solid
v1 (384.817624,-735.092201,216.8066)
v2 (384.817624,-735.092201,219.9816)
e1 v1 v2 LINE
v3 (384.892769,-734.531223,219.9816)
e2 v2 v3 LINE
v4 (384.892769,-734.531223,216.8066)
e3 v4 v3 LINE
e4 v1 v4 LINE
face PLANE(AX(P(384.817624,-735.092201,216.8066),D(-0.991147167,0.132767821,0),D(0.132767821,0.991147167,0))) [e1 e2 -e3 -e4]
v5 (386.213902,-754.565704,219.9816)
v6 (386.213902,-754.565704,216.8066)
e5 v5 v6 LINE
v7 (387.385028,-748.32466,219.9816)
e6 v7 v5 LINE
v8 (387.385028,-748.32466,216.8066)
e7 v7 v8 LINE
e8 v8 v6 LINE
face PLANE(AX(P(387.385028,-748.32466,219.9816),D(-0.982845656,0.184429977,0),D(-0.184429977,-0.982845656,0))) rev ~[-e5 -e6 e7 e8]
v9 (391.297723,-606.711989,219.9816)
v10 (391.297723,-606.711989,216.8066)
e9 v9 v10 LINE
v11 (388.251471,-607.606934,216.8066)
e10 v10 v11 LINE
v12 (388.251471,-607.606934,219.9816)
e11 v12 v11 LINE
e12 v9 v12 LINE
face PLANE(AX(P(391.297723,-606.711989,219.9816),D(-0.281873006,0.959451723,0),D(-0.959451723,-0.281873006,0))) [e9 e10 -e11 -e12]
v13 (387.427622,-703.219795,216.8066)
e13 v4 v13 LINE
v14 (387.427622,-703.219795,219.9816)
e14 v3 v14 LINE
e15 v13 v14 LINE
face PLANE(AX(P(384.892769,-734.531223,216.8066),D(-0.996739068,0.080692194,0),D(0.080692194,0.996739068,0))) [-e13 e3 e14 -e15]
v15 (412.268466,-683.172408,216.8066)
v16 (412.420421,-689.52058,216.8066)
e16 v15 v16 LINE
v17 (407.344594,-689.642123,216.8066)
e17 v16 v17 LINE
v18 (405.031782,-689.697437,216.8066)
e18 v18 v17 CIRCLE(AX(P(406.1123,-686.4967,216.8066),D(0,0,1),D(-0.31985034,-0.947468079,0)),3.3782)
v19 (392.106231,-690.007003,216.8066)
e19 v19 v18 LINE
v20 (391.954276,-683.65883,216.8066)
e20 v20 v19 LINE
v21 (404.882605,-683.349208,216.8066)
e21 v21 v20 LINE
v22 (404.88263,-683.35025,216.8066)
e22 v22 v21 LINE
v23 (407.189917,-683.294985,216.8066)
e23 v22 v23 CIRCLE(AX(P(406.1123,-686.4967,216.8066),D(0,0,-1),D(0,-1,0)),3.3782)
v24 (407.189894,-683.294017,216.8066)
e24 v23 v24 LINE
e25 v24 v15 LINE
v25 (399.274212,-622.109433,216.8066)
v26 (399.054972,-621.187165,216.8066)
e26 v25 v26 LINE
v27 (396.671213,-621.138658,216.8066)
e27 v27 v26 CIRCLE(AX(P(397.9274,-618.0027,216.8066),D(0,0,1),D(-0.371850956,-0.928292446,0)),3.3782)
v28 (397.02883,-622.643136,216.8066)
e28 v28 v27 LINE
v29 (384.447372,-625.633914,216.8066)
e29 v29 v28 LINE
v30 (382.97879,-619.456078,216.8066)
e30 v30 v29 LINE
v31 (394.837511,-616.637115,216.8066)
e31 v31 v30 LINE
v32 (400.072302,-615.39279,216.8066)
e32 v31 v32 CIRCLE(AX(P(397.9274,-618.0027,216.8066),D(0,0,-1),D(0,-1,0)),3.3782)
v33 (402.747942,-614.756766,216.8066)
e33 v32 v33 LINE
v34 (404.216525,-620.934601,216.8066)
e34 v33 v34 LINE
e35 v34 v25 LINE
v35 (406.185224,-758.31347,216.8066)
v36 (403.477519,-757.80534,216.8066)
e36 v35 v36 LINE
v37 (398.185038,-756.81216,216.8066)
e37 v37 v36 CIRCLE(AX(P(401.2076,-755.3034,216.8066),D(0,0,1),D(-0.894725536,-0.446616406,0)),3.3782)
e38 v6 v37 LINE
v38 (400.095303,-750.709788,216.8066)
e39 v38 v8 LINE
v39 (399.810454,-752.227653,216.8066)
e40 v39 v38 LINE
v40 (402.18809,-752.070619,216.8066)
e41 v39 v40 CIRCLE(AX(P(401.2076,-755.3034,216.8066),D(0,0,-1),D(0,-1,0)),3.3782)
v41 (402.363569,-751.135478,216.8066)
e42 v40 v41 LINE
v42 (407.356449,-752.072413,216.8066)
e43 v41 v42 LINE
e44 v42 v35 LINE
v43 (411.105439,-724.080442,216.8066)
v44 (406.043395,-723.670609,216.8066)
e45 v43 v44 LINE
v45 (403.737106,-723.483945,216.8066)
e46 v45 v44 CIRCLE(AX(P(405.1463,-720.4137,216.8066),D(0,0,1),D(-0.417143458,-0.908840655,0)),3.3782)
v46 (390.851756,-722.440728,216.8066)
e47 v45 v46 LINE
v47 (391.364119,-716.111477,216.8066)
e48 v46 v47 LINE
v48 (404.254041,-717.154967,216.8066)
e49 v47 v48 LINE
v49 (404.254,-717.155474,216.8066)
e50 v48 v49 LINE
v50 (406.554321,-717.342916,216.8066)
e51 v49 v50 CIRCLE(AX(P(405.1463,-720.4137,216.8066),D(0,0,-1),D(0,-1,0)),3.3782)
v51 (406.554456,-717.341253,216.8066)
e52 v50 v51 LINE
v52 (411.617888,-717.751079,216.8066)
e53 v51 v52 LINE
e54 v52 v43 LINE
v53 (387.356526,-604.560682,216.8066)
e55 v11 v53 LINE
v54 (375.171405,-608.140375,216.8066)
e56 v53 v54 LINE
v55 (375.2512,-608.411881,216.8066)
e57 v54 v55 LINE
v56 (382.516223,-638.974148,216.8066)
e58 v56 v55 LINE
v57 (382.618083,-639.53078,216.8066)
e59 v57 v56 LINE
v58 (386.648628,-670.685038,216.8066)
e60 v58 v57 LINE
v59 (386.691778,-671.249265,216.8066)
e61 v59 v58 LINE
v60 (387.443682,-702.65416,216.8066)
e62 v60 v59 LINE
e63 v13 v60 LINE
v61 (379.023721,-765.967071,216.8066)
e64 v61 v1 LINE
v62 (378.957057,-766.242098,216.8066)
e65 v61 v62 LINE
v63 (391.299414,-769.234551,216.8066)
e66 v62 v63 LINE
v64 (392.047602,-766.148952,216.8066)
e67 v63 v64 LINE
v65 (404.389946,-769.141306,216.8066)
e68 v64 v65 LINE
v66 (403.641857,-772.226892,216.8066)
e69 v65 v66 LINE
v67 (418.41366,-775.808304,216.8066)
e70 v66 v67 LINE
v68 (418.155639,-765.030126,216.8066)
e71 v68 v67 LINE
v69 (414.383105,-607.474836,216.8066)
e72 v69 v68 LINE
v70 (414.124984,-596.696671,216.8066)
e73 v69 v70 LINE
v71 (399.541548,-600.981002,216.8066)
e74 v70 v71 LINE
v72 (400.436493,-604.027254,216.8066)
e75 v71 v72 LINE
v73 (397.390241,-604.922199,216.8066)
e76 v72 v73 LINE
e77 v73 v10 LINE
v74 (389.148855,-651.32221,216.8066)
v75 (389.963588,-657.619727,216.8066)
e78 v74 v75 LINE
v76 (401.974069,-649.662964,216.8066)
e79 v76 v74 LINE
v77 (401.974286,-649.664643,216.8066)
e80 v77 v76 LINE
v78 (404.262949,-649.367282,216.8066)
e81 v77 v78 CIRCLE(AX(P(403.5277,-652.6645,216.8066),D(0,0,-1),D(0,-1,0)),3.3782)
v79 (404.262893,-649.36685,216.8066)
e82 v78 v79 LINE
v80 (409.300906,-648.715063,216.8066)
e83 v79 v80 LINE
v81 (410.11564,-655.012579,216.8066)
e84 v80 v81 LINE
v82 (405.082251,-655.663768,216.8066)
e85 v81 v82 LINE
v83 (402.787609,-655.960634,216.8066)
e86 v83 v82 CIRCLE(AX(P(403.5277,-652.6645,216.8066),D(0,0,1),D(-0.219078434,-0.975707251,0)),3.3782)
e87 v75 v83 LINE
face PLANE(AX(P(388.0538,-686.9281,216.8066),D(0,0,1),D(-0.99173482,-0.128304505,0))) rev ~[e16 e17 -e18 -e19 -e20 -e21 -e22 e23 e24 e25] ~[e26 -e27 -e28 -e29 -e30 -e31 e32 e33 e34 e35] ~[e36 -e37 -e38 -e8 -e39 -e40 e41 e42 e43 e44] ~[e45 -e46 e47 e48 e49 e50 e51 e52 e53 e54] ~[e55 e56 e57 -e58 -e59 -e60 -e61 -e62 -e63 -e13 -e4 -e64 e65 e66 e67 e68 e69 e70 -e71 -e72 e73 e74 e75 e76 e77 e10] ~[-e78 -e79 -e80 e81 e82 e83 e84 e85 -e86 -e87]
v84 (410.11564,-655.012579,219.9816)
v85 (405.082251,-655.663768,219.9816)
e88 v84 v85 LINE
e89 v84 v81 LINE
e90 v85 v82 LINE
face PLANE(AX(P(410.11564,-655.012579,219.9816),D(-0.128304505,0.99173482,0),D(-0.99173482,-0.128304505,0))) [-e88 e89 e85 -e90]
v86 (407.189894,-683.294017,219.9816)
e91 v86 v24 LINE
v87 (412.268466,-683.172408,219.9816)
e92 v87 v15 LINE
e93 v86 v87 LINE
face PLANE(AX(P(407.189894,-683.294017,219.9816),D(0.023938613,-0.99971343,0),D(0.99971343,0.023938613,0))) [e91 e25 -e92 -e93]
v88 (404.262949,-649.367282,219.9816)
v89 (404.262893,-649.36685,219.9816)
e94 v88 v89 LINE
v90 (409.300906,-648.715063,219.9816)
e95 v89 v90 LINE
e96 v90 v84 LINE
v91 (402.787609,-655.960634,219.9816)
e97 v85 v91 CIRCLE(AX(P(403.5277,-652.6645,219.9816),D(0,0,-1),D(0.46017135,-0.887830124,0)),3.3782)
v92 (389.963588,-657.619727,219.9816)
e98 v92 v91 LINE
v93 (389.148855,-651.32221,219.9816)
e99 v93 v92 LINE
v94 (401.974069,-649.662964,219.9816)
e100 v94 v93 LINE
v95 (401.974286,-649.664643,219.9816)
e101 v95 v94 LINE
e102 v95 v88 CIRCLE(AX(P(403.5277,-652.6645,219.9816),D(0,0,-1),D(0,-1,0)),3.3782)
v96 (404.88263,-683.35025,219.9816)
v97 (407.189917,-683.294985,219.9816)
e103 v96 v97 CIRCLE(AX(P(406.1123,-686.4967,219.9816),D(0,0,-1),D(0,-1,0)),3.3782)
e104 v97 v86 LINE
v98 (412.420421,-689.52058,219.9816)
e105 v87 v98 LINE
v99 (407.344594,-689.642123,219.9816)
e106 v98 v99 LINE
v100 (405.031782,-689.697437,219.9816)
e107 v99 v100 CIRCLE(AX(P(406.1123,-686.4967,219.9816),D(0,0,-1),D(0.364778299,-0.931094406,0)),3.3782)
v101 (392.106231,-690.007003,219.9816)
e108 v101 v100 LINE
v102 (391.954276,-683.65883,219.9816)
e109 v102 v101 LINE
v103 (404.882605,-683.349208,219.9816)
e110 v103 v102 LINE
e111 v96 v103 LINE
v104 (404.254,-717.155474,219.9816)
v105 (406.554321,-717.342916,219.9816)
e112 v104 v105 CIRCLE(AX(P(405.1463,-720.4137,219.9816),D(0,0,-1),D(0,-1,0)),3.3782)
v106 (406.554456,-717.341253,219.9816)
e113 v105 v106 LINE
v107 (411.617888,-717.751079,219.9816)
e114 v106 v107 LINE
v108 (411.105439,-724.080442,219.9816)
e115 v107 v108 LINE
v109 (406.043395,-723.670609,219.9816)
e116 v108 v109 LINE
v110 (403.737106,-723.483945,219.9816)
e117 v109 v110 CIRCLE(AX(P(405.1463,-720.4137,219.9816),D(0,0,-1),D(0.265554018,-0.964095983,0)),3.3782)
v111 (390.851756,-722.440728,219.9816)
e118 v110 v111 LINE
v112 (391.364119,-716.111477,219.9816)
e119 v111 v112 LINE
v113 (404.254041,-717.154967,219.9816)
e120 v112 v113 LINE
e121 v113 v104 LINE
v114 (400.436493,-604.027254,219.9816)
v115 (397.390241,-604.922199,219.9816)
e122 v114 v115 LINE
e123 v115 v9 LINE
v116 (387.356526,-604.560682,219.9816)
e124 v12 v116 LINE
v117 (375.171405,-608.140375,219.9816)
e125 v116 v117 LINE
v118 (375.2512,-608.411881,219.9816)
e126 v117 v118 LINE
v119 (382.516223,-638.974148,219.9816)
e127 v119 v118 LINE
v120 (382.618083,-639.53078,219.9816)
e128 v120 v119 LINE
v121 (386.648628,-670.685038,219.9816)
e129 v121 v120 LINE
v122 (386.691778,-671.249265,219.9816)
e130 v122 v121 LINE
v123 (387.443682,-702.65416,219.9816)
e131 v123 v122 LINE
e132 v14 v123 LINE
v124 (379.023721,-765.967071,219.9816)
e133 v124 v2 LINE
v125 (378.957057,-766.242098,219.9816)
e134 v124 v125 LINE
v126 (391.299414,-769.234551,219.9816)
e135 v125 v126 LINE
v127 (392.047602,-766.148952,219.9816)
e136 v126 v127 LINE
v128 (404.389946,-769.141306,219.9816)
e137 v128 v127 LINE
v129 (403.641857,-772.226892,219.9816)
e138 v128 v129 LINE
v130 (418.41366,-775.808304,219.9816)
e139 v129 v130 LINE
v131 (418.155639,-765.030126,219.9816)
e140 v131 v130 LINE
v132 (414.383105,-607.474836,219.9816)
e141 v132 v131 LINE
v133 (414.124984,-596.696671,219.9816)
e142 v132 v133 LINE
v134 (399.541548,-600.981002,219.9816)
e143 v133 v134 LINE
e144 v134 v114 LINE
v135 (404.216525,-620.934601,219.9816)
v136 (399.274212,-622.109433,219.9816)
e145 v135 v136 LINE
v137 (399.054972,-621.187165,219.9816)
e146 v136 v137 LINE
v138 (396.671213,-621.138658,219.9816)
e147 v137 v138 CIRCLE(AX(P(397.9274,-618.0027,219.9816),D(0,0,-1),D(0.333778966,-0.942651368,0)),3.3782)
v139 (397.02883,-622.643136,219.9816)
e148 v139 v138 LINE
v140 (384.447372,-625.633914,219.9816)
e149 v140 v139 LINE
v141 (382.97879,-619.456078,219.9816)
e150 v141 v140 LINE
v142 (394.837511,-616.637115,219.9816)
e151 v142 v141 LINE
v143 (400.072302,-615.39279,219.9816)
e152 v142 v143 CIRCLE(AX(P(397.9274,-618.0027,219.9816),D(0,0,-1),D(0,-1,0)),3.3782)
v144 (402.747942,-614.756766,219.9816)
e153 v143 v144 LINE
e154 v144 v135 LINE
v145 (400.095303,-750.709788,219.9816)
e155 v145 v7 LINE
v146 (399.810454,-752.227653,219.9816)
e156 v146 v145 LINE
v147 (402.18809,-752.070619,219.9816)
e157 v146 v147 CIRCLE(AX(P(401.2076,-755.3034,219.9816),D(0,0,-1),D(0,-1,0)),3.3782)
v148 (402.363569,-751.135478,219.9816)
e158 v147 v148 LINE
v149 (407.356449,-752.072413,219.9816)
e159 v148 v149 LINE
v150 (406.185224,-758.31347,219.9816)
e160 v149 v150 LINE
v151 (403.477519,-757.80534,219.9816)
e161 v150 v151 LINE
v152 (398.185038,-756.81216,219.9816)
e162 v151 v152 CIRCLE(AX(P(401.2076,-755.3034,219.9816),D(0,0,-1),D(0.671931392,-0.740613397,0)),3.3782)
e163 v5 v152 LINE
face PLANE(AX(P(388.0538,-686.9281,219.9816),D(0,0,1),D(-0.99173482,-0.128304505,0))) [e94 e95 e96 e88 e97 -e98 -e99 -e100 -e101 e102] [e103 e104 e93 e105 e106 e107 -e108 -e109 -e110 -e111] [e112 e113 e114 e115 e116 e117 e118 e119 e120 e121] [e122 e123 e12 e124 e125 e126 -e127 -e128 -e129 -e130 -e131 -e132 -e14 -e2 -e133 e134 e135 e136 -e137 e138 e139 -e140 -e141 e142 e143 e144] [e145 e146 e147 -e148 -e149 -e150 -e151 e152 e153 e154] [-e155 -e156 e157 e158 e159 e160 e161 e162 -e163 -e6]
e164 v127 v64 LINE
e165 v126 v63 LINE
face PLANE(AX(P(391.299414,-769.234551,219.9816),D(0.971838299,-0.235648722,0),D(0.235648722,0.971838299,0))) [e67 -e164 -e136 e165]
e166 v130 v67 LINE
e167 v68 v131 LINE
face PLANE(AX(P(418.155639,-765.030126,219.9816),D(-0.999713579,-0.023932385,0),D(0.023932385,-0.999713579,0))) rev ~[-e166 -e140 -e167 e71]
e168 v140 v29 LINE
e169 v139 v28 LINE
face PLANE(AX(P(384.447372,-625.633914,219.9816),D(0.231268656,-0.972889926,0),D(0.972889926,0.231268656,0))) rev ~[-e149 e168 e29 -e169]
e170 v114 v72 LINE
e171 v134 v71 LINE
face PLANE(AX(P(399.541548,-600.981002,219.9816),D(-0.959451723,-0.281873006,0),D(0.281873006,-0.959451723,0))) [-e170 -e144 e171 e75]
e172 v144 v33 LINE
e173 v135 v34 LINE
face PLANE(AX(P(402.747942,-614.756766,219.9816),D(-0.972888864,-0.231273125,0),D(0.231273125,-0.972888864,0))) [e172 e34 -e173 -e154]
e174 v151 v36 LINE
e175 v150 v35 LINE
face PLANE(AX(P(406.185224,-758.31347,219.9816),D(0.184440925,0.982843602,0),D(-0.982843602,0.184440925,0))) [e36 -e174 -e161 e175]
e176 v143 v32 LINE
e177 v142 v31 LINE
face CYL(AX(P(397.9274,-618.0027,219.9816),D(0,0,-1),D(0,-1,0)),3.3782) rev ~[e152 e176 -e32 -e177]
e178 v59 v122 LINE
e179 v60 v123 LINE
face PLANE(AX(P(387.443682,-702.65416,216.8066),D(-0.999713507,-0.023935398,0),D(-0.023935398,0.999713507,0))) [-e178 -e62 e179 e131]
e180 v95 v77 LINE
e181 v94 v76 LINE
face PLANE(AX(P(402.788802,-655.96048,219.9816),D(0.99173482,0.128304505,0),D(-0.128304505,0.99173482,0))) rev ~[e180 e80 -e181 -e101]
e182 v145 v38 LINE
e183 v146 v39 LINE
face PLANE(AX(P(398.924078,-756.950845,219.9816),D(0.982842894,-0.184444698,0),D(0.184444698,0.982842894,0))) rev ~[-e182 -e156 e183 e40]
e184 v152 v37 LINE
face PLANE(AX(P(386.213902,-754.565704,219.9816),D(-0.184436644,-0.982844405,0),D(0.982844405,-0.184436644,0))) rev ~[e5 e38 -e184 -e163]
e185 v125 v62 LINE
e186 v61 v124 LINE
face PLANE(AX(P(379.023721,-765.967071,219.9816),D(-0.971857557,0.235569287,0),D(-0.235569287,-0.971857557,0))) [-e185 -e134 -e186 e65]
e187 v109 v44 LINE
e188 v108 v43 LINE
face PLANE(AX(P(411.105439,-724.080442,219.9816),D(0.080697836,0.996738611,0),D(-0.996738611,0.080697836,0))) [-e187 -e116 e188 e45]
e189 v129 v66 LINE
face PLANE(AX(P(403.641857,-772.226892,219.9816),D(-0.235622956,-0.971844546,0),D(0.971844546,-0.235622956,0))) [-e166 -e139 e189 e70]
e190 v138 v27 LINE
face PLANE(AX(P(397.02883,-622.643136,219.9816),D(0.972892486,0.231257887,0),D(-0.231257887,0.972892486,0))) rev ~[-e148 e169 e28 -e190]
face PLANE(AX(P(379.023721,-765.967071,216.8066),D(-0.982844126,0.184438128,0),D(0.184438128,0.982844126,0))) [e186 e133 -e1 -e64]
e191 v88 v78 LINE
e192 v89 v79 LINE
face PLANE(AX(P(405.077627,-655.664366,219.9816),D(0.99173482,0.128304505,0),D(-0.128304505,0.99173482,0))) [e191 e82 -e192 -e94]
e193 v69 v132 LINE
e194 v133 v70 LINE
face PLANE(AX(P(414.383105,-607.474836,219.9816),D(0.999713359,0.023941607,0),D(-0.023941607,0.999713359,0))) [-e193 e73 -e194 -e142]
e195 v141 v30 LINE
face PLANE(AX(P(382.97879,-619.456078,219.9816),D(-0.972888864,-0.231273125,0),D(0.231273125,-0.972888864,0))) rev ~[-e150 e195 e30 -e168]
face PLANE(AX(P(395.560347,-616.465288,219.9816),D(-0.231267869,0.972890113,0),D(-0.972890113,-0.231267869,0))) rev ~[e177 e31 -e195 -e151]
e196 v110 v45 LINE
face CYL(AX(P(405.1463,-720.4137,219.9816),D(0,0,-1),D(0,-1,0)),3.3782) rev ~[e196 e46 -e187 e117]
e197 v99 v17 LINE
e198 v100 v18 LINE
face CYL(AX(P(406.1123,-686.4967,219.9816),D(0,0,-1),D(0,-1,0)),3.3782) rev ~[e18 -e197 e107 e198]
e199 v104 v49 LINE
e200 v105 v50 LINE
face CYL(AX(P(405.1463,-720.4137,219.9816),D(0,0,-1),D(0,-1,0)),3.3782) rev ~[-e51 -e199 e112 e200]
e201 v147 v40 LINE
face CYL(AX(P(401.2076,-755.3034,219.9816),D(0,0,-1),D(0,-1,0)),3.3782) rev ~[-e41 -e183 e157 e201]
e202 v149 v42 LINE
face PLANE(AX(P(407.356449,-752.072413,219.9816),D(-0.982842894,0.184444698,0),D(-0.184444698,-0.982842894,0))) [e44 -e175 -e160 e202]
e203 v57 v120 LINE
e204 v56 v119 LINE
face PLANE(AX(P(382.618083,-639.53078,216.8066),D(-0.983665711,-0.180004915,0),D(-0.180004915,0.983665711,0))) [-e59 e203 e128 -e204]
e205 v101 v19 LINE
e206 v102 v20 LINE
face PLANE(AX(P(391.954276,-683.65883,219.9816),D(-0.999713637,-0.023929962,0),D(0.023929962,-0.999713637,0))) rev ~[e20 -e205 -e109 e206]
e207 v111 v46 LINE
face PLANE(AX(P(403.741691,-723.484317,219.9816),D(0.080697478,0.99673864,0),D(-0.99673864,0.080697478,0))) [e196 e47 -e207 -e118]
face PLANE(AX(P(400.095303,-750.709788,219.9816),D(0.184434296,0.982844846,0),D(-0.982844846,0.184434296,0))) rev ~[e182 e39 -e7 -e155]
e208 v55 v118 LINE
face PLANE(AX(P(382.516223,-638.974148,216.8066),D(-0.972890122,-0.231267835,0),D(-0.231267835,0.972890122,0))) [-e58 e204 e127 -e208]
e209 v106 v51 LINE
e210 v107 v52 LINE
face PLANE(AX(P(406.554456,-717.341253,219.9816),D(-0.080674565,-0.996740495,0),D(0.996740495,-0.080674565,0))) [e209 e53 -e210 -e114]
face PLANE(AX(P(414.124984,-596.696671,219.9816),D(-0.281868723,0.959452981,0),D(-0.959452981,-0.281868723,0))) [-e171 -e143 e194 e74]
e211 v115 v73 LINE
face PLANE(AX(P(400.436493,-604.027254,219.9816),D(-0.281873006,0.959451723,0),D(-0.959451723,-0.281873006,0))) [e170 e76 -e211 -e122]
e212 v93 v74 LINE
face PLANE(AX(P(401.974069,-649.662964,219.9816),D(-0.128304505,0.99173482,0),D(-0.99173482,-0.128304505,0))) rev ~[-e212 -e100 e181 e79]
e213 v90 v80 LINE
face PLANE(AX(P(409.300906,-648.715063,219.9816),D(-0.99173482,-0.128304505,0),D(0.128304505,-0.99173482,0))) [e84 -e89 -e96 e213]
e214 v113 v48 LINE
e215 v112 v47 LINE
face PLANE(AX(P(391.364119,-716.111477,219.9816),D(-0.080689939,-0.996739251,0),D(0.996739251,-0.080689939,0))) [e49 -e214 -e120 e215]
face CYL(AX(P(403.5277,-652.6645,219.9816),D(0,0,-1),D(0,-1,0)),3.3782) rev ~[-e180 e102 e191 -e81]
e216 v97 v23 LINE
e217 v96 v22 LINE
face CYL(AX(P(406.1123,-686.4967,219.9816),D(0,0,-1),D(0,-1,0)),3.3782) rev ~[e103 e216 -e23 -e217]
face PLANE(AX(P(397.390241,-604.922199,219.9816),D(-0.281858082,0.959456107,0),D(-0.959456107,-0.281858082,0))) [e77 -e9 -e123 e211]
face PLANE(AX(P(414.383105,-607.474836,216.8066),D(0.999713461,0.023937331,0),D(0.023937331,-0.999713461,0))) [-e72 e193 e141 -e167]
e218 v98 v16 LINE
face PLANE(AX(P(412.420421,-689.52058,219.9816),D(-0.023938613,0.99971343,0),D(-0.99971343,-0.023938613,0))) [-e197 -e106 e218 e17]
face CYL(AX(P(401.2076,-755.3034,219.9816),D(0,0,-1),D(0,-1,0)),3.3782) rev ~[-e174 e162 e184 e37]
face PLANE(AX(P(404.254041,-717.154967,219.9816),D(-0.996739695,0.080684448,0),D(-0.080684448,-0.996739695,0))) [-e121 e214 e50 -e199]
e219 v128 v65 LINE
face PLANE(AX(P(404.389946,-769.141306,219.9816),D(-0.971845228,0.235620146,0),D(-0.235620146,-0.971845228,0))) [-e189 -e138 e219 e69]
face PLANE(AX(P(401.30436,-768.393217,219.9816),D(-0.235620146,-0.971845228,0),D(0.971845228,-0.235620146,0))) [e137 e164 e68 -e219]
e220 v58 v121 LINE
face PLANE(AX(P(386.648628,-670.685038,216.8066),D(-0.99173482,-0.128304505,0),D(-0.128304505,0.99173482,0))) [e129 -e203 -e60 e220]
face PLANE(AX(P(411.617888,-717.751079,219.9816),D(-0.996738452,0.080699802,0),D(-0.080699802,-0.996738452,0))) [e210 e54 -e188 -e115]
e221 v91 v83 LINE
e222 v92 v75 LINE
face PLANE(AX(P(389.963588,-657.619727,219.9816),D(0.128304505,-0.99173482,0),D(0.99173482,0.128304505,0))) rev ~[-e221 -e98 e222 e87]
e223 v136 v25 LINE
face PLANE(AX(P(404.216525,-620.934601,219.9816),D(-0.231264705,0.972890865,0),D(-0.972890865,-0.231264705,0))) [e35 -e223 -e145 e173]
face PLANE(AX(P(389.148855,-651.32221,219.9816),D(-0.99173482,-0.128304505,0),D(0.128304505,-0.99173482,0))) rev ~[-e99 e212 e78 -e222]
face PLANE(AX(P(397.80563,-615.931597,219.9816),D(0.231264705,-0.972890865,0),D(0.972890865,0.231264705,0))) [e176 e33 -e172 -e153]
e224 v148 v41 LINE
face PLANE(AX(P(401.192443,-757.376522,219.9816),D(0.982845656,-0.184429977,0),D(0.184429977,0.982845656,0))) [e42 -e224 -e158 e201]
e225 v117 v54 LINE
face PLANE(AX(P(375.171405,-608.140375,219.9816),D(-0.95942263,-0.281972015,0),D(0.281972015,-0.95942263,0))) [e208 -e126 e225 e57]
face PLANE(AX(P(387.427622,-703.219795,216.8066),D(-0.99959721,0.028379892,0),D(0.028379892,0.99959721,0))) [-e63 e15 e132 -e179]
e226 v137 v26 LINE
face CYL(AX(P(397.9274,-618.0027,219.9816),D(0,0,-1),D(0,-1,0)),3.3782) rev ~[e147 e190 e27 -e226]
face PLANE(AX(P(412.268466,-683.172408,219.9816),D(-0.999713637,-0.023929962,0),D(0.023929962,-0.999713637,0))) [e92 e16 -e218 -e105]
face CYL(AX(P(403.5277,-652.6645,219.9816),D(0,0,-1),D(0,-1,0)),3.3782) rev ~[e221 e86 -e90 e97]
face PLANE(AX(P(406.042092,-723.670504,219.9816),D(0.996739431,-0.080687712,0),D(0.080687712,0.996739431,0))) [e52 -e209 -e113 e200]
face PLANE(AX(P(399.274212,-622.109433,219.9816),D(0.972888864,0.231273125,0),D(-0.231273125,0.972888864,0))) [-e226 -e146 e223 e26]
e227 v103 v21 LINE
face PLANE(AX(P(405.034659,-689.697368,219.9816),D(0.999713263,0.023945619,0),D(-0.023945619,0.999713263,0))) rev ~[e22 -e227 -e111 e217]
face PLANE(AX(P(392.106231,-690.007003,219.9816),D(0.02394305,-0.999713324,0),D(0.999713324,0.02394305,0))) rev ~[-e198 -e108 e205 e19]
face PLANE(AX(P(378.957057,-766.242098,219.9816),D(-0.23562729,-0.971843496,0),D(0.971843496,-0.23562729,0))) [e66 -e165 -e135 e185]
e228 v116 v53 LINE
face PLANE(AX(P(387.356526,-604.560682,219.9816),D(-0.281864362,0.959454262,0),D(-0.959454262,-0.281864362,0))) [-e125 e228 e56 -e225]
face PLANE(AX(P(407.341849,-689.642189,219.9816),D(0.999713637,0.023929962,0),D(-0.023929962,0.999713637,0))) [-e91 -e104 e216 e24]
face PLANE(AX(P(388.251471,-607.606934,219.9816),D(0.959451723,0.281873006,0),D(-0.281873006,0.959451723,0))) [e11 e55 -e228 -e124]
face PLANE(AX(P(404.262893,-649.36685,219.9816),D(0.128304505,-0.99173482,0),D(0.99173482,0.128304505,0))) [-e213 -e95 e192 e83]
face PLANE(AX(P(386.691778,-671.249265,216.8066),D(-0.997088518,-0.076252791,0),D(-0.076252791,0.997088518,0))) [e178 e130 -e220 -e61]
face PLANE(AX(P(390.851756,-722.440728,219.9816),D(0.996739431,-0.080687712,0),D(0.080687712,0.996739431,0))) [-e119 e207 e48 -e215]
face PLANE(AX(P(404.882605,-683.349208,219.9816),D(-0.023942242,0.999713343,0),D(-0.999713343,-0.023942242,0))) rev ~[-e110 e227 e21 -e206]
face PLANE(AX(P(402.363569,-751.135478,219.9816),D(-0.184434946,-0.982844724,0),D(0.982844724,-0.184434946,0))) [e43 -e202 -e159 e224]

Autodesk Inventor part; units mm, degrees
ref_plane "YZ Plane" through (0, 0, 0) normal (1, 0, 0) x (0, 1, 0)
ref_plane "XZ Plane" through (0, 0, 0) normal (0, 1, 0) x (-1, 0, 0)
ref_plane "Work Plane2" through (388.0538, -686.9281, 216.8066) normal (0, 0, 1) x (-0.9917, -0.1283, 0)
sketch "Sketch3" plane through (388.0538, -686.9281, 216.8066) normal (0, 0, 1) x (-0.9917, -0.1283, 0)
  line L0 (4.3583, 15.8159) -> (10.8533, 46.3726) construction
  line L1 (1.0044, -15.8113) -> (4.2698, 15.2569) construction
  line L2 (1.0044, -15.8113) -> (4.2698, 15.2569) construction
  line L3 (0.9748, -47.6157) -> (0.9748, -16.3764) construction
  line L4 (0.9748, -47.6157) -> (0.9748, -16.3764) construction
  line L5 (4.2698, -79.2491) -> (1.0044, -48.1809) construction
  line L6 (4.2698, -79.2491) -> (1.0044, -48.1809) construction
  line L7 (10.9998, 46.9192) -> (20.6533, 76.6296) construction
  line L8 (4.3583, 15.8159) -> (10.8533, 46.3726) construction
  line L9 (10.9998, 46.9192) -> (20.6533, 76.6296) construction
  line L10 (20.6533, 76.6296) -> (-103.8397, 124.4179) construction
  line L11 (-117.8064, 81.4327) -> (10.9998, 46.9192) construction
  line L12 (10.8533, 46.3726) -> (-117.9529, 80.8861) construction
  line L13 (-127.3499, 36.6764) -> (4.3583, 15.8159) construction
  line L14 (4.2698, 15.2569) -> (-127.4385, 36.1175) construction
  line L15 (0.9748, -16.3764) -> (-132.1925, -9.3974) construction
  line L16 (-132.1629, -8.8323) -> (1.0044, -15.8113) construction
  line L17 (1.0044, -48.1809) -> (-132.1629, -55.1599) construction
  line L18 (-132.1925, -54.5947) -> (0.9748, -47.6157) construction
  line L19 (-127.4385, -100.1096) -> (4.2698, -79.2491) construction
  line L20 (19.0965, 77.2271) -> (9.3891, 47.3508)
  line L21 (9.3891, 47.3508) -> (9.2426, 46.8041)
  line L22 (9.2426, 46.8041) -> (2.7113, 16.0767)
  line L23 (2.7113, 16.0767) -> (2.6228, 15.5178)
  line L24 (2.6228, 15.5178) -> (-0.6609, -15.724)
  line L25 (-0.6609, -15.724) -> (-0.6905, -16.2891)
  line L26 (-0.6905, -16.2891) -> (-0.6905, -47.703)
  line L27 (-0.6905, -47.703) -> (-0.6609, -48.2681)
  line L28 (-0.6609, -48.2681) -> (2.6228, -79.5099)
  line L29 (2.6228, -79.5099) -> (-36.3059, -75.4184)
  line L30 (-36.3059, -75.4184) -> (-19.8322, 81.3187)
  line L31 (-19.8322, 81.3187) -> (19.0965, 77.2271)
  line L32 (-127.4385, 36.1175) -> (-129.1369, 19.9578) construction
  point P0 (296.7492, -731.0239)
  dimension "d32" = 1.6652
  dimension "d33" = 1.6652
  dimension "d34" = 1.6652
  dimension "d35" = 1.6652
  dimension "d36" = 1.6652
  dimension "d37" = 29.21
extrude "Extrusion3" add sketch "Sketch3" along normal blind 3.175
sketch "Sketch5" plane through (388.0538, -686.9281, 219.9816) normal (0, 0, 1) x (0.9917, 0.1283, 0)
  line L0 (-19.0965, -77.2271) -> (19.8322, -81.3187) projected
  line L1 (-19.0965, -77.2271) -> (-19.1979, -77.4913)
  line L2 (-19.1979, -77.4913) -> (-7.3415, -82.0426)
  line L3 (4.515, -86.5938) -> (18.7052, -92.0409)
  line L4 (19.8322, -81.3187) -> (36.3059, 75.4184) projected
  line L5 (19.8322, -81.3187) -> (18.7052, -92.0409)
  line L6 (-18.0601, -74.5272) -> (-19.1979, -77.4913) construction
  line L7 (36.3059, 75.4184) -> (37.4328, 86.1406)
  line L8 (37.4328, 86.1406) -> (22.4202, 83.7628)
  line L9 (9.8766, 81.7761) -> (-2.6671, 79.7894)
  line L10 (36.3059, 75.4184) -> (-2.6228, 79.5099) projected
  line L11 (-2.6671, 79.7894) -> (-2.6228, 79.5099)
  line L12 (-2.6671, 79.7894) -> (-2.1704, 76.6535) construction
  line L13 (1.5509, -85.456) -> (-4.3773, -83.1804) projected
  line L14 (2.6887, -82.4919) -> (1.5509, -85.456) projected
  line L15 (-3.2395, -80.2163) -> (2.6887, -82.4919) projected
  line L16 (-3.2395, -80.2163) -> (-4.3773, -83.1804) projected
  line L17 (19.781, 80.1302) -> (13.5092, 79.1369) projected
  line L18 (19.2843, 83.2662) -> (19.781, 80.1302) projected
  line L19 (13.0125, 82.2728) -> (19.2843, 83.2662) projected
  line L20 (13.0125, 82.2728) -> (13.5092, 79.1369) projected
  line L21 (-4.3773, -83.1804) -> (-7.3415, -82.0426) projected
  line L22 (-3.2395, -80.2163) -> (-4.3773, -83.1804) projected
  line L23 (-6.2036, -79.0785) -> (-3.2395, -80.2163) projected
  line L24 (-7.3415, -82.0426) -> (-6.2036, -79.0785) projected
  line L25 (4.515, -86.5938) -> (1.5509, -85.456) projected
  line L26 (5.6528, -83.6297) -> (4.515, -86.5938) projected
  line L27 (2.6887, -82.4919) -> (5.6528, -83.6297) projected
  line L28 (2.6887, -82.4919) -> (1.5509, -85.456) projected
  line L29 (22.9169, 80.6269) -> (19.781, 80.1302) projected
  line L30 (22.4202, 83.7628) -> (22.9169, 80.6269) projected
  line L31 (19.2843, 83.2662) -> (22.4202, 83.7628) projected
  line L32 (19.2843, 83.2662) -> (19.781, 80.1302) projected
  line L33 (13.5092, 79.1369) -> (10.3733, 78.6402) projected
  line L34 (13.0125, 82.2728) -> (13.5092, 79.1369) projected
  line L35 (9.8766, 81.7761) -> (13.0125, 82.2728) projected
  line L36 (10.3733, 78.6402) -> (9.8766, 81.7761) projected
  point P0 (-296.7492, 731.0239)
  point P1 (19.781, 80.1302)
  point P2 (13.5092, 79.1369)
  point P3 (2.6887, -82.4919)
extrude "Extrusion4" add sketch "Sketch5" against normal blind 3.175 contours L10 L11 L9 L36 L33 L17 L29 L30 L8 L7 | L0 L5 L3 L26 L27 L15 L23 L24 L2 L1
sketch "Sketch6" plane through (388.0538, -686.9281, 219.9816) normal (0, 0, 1) x (0.9917, 0.1283, 0)
  line L0 (16.6451, 79.6336) -> (18.6318, 67.0899) construction
  line L1 (-0.2754, -81.3541) -> (4.2759, -69.4976) construction
  line L2 (18.7052, -92.0409) -> (37.4328, 86.1406) construction
  line L3 (28.069, -2.9502) -> (17.9647, -1.8882) construction
  line L4 (-6.2036, -79.0785) -> (5.6528, -83.6297) construction
  line L5 (22.9169, 80.6269) -> (10.3733, 78.6402) construction
  point P0 (-296.7492, 731.0239)
  dimension "d23" = 12.7
  dimension "d24" = 12.7
  dimension "d55" = 10.16
hole "Hole2" at (401.2076, -755.3034, 219.9816) at (397.9274, -618.0027, 219.9816) at (406.1123, -686.4967, 219.9816) direction (0, 0, -1) diameter 6.7564 depth 13.6144 clearance for "Flat Head Machine Screw (82)" size "1/4" standard "Ansi Unified Screw Threads"
sketch "Sketch7" plane through (388.0538, -686.9281, 219.9816) normal (0, 0, 1) x (0.9917, 0.1283, 0)
  line L0 (0.6609, 15.724) -> (-2.6228, -15.5178) construction
  line L1 (-0.981, 0.1031) -> (10.3864, -1.0917) construction
  line L2 (3.6239, -3.5734) -> (16.4852, -4.9251)
  line L3 (16.4852, -4.9251) -> (17.1489, 1.3901)
  line L4 (17.1489, 1.3901) -> (4.2877, 2.7418)
  line L5 (4.2877, 2.7418) -> (3.6239, -3.5734)
  line L6 (3.6239, -3.5734) -> (17.1489, 1.3901) construction
  line L7 (16.4852, -4.9251) -> (4.2877, 2.7418) construction
  circle A0 centre (17.9647, -1.8882) radius 3.3782 construction
  line L8 (10.8679, -38.2669) -> (-1.7816, -35.5781)
  line L9 (-1.7816, -35.5781) -> (-0.4614, -29.3669)
  line L10 (-0.4614, -29.3669) -> (12.1881, -32.0556)
  line L11 (12.1881, -32.0556) -> (10.8679, -38.2669)
  line L12 (10.8679, -38.2669) -> (-0.4614, -29.3669) construction
  line L13 (-1.7816, -35.5781) -> (12.1881, -32.0556) construction
  line L14 (-10.5029, -66.8425) -> (1.7962, -70.8387)
  line L15 (1.7962, -70.8387) -> (3.7585, -64.7995)
  line L16 (3.7585, -64.7995) -> (-8.5407, -60.8033)
  line L17 (-8.5407, -60.8033) -> (-10.5029, -66.8425)
  line L18 (-10.5029, -66.8425) -> (3.7585, -64.7995) construction
  line L19 (1.7962, -70.8387) -> (-8.5407, -60.8033) construction
  line L20 (18.5865, 35.1711) -> (5.6544, 35.1711)
  line L21 (5.6544, 35.1711) -> (5.6544, 28.8211)
  line L22 (5.6544, 28.8211) -> (18.5865, 28.8211)
  line L23 (18.5865, 28.8211) -> (18.5865, 35.1711)
  line L24 (18.5865, 35.1711) -> (5.6544, 28.8211) construction
  line L25 (5.6544, 35.1711) -> (18.5865, 28.8211) construction
  line L26 (3.6239, 67.5655) -> (4.2877, 61.2503)
  line L27 (4.2877, 61.2503) -> (17.1489, 62.6021)
  line L28 (17.1489, 62.6021) -> (16.4852, 68.9173)
  line L29 (16.4852, 68.9173) -> (3.6239, 67.5655)
  line L30 (3.6239, 67.5655) -> (17.1489, 62.6021) construction
  line L31 (4.2877, 61.2503) -> (16.4852, 68.9173) construction
  line L32 (-9.3891, -47.3508) -> (-19.0965, -77.2271) construction
  line L33 (-14.2428, -62.289) -> (-3.3722, -65.821) construction
  line L34 (-2.7113, -16.0767) -> (-9.2426, -46.8041) construction
  line L35 (-5.977, -31.4404) -> (5.2033, -33.8169) construction
  line L36 (0.6905, 47.703) -> (0.6905, 16.2891) construction
  line L37 (0.6905, 31.9961) -> (12.1205, 31.9961) construction
  line L38 (-2.6228, 79.5099) -> (0.6609, 48.2681) construction
  line L39 (-0.981, 63.889) -> (10.3864, 65.0838) construction
  line L40 (18.7804, -5.1664) -> (19.4442, 1.1488)
  line L41 (19.4442, 1.1488) -> (24.4964, 0.6178)
  line L42 (24.4964, 0.6178) -> (23.8326, -5.6974)
  line L43 (23.8326, -5.6974) -> (18.7804, -5.1664)
  line L44 (18.7804, -5.1664) -> (24.4964, 0.6178) construction
  line L45 (19.4442, 1.1488) -> (23.8326, -5.6974) construction
  line L46 (13.1254, -38.7467) -> (14.4456, -32.5355)
  line L47 (14.4456, -32.5355) -> (19.4146, -33.5916)
  line L48 (19.4146, -33.5916) -> (18.0943, -39.8029)
  line L49 (18.0943, -39.8029) -> (13.1254, -38.7467)
  line L50 (13.1254, -38.7467) -> (19.4146, -33.5916) construction
  line L51 (14.4456, -32.5355) -> (18.0943, -39.8029) construction
  line L52 (20.8944, 28.8211) -> (20.8944, 35.1711)
  line L53 (20.8944, 35.1711) -> (25.9744, 35.1711)
  line L54 (25.9744, 35.1711) -> (25.9744, 28.8211)
  line L55 (25.9744, 28.8211) -> (20.8944, 28.8211)
  line L56 (20.8944, 28.8211) -> (25.9744, 35.1711) construction
  line L57 (20.8944, 35.1711) -> (25.9744, 28.8211) construction
  line L58 (3.9912, -71.5519) -> (5.9534, -65.5127)
  line L59 (5.9534, -65.5127) -> (10.7848, -67.0825)
  line L60 (10.7848, -67.0825) -> (8.8225, -73.1217)
  line L61 (8.8225, -73.1217) -> (3.9912, -71.5519)
  line L62 (3.9912, -71.5519) -> (10.7848, -67.0825) construction
  line L63 (5.9534, -65.5127) -> (8.8225, -73.1217) construction
  line L64 (19.4442, 62.8433) -> (18.7804, 69.1585)
  line L65 (18.7804, 69.1585) -> (23.8326, 69.6895)
  line L66 (23.8326, 69.6895) -> (24.4964, 63.3743)
  line L67 (24.4964, 63.3743) -> (19.4442, 62.8433)
  line L68 (19.4442, 62.8433) -> (23.8326, 69.6895) construction
  line L69 (18.7804, 69.1585) -> (24.4964, 63.3743) construction
  point P0 (-296.7492, 731.0239)
  point P1 (5.2033, -33.8169)
  point P2 (-3.3722, -65.821)
  point P3 (12.1205, 31.9961)
  point P4 (10.3864, 65.0838)
  point P5 (21.6384, -2.2743)
  dimension "d38" = 11.43
  dimension "d39" = 6.35
  dimension "d40" = 12.9321
  dimension "d41" = 11.43
  dimension "d42" = 11.43
  dimension "d43" = 11.43
  dimension "d44" = 11.43
  dimension "d45" = 6.35
  dimension "d46" = 6.35
  dimension "d47" = 6.35
  dimension "d48" = 6.35
  dimension "d49" = 12.9321
  dimension "d50" = 12.9321
  dimension "d51" = 12.9321
  dimension "d52" = 12.9321
  dimension "d66" = 6.35
  dimension "d67" = 5.08
  dimension "d68" = 2.3079
  dimension "d69" = 6.35
  dimension "d70" = 5.08
  dimension "d71" = 6.35
  dimension "d72" = 5.08
  dimension "d73" = 6.35
  dimension "d74" = 5.08
  dimension "d75" = 6.35
  dimension "d76" = 5.08
  dimension "d77" = 2.3079
  dimension "d78" = 2.3079
  dimension "d79" = 2.3079
  dimension "d80" = 2.3079
extrude "Extrusion5" cut sketch "Sketch7" against normal blind 3.175
sketch "Sketch8" plane through (388.0538, -686.9281, 219.9816) normal (0, 0, 1) x (0.9917, 0.1283, 0)
  line L0 (0.6609, 15.724) -> (-2.6228, -15.5178) construction
  arc A0 (16.4852, -4.9251) -> (17.1489, 1.3901) centre (17.9647, -1.8882) ccw construction
  line L1 (18.5865, 35.1711) -> (18.5865, 28.8211) construction
  line L2 (18.5865, 31.9961) -> (19.7405, 31.9961) construction
  line L3 (0.6905, 47.703) -> (0.6905, 16.2891) construction
  line L4 (10.8679, -38.2669) -> (12.1881, -32.0556) construction
  line L5 (11.528, -35.1612) -> (12.6567, -35.4012) construction
  line L6 (-2.7113, -16.0767) -> (-9.2426, -46.8041) construction
  point P0 (-296.7492, 731.0239)
  point P1 (-0.6491, 3.2607)
  point P2 (0.6905, 35.1711)
  point P3 (-5.3169, -28.3348)
  dimension "d56" = 19.05
  dimension "d57" = 19.05
  dimension "d58" = 19.05
hole "Hole3" at (403.5277, -652.6645, 219.9816) at (405.1463, -720.4137, 219.9816) direction (0, 0, -1) diameter 6.7564 depth 13.6144 clearance for "Flat Head Machine Screw (82)" size "1/4" standard "Ansi Unified Screw Threads"
equation "\"d33\" = d32"
equation "\"d34\" = d32"
equation "\"d36\" = d32"
equation "\"d41\" = d38"
equation "\"d42\" = d38"
equation "\"d43\" = d38"
equation "\"d44\" = d38"
equation "\"d45\" = d39"
equation "\"d46\" = d39"
equation "\"d47\" = d39"
equation "\"d48\" = d39"
equation "\"d49\" = d40"
equation "\"d50\" = d40"
equation "\"d51\" = d40"
equation "\"d52\" = d40"
equation "\"d57\" = d56"
equation "\"d58\" = d56"
properties part number "Back Plate" material "Aluminum 6061"
